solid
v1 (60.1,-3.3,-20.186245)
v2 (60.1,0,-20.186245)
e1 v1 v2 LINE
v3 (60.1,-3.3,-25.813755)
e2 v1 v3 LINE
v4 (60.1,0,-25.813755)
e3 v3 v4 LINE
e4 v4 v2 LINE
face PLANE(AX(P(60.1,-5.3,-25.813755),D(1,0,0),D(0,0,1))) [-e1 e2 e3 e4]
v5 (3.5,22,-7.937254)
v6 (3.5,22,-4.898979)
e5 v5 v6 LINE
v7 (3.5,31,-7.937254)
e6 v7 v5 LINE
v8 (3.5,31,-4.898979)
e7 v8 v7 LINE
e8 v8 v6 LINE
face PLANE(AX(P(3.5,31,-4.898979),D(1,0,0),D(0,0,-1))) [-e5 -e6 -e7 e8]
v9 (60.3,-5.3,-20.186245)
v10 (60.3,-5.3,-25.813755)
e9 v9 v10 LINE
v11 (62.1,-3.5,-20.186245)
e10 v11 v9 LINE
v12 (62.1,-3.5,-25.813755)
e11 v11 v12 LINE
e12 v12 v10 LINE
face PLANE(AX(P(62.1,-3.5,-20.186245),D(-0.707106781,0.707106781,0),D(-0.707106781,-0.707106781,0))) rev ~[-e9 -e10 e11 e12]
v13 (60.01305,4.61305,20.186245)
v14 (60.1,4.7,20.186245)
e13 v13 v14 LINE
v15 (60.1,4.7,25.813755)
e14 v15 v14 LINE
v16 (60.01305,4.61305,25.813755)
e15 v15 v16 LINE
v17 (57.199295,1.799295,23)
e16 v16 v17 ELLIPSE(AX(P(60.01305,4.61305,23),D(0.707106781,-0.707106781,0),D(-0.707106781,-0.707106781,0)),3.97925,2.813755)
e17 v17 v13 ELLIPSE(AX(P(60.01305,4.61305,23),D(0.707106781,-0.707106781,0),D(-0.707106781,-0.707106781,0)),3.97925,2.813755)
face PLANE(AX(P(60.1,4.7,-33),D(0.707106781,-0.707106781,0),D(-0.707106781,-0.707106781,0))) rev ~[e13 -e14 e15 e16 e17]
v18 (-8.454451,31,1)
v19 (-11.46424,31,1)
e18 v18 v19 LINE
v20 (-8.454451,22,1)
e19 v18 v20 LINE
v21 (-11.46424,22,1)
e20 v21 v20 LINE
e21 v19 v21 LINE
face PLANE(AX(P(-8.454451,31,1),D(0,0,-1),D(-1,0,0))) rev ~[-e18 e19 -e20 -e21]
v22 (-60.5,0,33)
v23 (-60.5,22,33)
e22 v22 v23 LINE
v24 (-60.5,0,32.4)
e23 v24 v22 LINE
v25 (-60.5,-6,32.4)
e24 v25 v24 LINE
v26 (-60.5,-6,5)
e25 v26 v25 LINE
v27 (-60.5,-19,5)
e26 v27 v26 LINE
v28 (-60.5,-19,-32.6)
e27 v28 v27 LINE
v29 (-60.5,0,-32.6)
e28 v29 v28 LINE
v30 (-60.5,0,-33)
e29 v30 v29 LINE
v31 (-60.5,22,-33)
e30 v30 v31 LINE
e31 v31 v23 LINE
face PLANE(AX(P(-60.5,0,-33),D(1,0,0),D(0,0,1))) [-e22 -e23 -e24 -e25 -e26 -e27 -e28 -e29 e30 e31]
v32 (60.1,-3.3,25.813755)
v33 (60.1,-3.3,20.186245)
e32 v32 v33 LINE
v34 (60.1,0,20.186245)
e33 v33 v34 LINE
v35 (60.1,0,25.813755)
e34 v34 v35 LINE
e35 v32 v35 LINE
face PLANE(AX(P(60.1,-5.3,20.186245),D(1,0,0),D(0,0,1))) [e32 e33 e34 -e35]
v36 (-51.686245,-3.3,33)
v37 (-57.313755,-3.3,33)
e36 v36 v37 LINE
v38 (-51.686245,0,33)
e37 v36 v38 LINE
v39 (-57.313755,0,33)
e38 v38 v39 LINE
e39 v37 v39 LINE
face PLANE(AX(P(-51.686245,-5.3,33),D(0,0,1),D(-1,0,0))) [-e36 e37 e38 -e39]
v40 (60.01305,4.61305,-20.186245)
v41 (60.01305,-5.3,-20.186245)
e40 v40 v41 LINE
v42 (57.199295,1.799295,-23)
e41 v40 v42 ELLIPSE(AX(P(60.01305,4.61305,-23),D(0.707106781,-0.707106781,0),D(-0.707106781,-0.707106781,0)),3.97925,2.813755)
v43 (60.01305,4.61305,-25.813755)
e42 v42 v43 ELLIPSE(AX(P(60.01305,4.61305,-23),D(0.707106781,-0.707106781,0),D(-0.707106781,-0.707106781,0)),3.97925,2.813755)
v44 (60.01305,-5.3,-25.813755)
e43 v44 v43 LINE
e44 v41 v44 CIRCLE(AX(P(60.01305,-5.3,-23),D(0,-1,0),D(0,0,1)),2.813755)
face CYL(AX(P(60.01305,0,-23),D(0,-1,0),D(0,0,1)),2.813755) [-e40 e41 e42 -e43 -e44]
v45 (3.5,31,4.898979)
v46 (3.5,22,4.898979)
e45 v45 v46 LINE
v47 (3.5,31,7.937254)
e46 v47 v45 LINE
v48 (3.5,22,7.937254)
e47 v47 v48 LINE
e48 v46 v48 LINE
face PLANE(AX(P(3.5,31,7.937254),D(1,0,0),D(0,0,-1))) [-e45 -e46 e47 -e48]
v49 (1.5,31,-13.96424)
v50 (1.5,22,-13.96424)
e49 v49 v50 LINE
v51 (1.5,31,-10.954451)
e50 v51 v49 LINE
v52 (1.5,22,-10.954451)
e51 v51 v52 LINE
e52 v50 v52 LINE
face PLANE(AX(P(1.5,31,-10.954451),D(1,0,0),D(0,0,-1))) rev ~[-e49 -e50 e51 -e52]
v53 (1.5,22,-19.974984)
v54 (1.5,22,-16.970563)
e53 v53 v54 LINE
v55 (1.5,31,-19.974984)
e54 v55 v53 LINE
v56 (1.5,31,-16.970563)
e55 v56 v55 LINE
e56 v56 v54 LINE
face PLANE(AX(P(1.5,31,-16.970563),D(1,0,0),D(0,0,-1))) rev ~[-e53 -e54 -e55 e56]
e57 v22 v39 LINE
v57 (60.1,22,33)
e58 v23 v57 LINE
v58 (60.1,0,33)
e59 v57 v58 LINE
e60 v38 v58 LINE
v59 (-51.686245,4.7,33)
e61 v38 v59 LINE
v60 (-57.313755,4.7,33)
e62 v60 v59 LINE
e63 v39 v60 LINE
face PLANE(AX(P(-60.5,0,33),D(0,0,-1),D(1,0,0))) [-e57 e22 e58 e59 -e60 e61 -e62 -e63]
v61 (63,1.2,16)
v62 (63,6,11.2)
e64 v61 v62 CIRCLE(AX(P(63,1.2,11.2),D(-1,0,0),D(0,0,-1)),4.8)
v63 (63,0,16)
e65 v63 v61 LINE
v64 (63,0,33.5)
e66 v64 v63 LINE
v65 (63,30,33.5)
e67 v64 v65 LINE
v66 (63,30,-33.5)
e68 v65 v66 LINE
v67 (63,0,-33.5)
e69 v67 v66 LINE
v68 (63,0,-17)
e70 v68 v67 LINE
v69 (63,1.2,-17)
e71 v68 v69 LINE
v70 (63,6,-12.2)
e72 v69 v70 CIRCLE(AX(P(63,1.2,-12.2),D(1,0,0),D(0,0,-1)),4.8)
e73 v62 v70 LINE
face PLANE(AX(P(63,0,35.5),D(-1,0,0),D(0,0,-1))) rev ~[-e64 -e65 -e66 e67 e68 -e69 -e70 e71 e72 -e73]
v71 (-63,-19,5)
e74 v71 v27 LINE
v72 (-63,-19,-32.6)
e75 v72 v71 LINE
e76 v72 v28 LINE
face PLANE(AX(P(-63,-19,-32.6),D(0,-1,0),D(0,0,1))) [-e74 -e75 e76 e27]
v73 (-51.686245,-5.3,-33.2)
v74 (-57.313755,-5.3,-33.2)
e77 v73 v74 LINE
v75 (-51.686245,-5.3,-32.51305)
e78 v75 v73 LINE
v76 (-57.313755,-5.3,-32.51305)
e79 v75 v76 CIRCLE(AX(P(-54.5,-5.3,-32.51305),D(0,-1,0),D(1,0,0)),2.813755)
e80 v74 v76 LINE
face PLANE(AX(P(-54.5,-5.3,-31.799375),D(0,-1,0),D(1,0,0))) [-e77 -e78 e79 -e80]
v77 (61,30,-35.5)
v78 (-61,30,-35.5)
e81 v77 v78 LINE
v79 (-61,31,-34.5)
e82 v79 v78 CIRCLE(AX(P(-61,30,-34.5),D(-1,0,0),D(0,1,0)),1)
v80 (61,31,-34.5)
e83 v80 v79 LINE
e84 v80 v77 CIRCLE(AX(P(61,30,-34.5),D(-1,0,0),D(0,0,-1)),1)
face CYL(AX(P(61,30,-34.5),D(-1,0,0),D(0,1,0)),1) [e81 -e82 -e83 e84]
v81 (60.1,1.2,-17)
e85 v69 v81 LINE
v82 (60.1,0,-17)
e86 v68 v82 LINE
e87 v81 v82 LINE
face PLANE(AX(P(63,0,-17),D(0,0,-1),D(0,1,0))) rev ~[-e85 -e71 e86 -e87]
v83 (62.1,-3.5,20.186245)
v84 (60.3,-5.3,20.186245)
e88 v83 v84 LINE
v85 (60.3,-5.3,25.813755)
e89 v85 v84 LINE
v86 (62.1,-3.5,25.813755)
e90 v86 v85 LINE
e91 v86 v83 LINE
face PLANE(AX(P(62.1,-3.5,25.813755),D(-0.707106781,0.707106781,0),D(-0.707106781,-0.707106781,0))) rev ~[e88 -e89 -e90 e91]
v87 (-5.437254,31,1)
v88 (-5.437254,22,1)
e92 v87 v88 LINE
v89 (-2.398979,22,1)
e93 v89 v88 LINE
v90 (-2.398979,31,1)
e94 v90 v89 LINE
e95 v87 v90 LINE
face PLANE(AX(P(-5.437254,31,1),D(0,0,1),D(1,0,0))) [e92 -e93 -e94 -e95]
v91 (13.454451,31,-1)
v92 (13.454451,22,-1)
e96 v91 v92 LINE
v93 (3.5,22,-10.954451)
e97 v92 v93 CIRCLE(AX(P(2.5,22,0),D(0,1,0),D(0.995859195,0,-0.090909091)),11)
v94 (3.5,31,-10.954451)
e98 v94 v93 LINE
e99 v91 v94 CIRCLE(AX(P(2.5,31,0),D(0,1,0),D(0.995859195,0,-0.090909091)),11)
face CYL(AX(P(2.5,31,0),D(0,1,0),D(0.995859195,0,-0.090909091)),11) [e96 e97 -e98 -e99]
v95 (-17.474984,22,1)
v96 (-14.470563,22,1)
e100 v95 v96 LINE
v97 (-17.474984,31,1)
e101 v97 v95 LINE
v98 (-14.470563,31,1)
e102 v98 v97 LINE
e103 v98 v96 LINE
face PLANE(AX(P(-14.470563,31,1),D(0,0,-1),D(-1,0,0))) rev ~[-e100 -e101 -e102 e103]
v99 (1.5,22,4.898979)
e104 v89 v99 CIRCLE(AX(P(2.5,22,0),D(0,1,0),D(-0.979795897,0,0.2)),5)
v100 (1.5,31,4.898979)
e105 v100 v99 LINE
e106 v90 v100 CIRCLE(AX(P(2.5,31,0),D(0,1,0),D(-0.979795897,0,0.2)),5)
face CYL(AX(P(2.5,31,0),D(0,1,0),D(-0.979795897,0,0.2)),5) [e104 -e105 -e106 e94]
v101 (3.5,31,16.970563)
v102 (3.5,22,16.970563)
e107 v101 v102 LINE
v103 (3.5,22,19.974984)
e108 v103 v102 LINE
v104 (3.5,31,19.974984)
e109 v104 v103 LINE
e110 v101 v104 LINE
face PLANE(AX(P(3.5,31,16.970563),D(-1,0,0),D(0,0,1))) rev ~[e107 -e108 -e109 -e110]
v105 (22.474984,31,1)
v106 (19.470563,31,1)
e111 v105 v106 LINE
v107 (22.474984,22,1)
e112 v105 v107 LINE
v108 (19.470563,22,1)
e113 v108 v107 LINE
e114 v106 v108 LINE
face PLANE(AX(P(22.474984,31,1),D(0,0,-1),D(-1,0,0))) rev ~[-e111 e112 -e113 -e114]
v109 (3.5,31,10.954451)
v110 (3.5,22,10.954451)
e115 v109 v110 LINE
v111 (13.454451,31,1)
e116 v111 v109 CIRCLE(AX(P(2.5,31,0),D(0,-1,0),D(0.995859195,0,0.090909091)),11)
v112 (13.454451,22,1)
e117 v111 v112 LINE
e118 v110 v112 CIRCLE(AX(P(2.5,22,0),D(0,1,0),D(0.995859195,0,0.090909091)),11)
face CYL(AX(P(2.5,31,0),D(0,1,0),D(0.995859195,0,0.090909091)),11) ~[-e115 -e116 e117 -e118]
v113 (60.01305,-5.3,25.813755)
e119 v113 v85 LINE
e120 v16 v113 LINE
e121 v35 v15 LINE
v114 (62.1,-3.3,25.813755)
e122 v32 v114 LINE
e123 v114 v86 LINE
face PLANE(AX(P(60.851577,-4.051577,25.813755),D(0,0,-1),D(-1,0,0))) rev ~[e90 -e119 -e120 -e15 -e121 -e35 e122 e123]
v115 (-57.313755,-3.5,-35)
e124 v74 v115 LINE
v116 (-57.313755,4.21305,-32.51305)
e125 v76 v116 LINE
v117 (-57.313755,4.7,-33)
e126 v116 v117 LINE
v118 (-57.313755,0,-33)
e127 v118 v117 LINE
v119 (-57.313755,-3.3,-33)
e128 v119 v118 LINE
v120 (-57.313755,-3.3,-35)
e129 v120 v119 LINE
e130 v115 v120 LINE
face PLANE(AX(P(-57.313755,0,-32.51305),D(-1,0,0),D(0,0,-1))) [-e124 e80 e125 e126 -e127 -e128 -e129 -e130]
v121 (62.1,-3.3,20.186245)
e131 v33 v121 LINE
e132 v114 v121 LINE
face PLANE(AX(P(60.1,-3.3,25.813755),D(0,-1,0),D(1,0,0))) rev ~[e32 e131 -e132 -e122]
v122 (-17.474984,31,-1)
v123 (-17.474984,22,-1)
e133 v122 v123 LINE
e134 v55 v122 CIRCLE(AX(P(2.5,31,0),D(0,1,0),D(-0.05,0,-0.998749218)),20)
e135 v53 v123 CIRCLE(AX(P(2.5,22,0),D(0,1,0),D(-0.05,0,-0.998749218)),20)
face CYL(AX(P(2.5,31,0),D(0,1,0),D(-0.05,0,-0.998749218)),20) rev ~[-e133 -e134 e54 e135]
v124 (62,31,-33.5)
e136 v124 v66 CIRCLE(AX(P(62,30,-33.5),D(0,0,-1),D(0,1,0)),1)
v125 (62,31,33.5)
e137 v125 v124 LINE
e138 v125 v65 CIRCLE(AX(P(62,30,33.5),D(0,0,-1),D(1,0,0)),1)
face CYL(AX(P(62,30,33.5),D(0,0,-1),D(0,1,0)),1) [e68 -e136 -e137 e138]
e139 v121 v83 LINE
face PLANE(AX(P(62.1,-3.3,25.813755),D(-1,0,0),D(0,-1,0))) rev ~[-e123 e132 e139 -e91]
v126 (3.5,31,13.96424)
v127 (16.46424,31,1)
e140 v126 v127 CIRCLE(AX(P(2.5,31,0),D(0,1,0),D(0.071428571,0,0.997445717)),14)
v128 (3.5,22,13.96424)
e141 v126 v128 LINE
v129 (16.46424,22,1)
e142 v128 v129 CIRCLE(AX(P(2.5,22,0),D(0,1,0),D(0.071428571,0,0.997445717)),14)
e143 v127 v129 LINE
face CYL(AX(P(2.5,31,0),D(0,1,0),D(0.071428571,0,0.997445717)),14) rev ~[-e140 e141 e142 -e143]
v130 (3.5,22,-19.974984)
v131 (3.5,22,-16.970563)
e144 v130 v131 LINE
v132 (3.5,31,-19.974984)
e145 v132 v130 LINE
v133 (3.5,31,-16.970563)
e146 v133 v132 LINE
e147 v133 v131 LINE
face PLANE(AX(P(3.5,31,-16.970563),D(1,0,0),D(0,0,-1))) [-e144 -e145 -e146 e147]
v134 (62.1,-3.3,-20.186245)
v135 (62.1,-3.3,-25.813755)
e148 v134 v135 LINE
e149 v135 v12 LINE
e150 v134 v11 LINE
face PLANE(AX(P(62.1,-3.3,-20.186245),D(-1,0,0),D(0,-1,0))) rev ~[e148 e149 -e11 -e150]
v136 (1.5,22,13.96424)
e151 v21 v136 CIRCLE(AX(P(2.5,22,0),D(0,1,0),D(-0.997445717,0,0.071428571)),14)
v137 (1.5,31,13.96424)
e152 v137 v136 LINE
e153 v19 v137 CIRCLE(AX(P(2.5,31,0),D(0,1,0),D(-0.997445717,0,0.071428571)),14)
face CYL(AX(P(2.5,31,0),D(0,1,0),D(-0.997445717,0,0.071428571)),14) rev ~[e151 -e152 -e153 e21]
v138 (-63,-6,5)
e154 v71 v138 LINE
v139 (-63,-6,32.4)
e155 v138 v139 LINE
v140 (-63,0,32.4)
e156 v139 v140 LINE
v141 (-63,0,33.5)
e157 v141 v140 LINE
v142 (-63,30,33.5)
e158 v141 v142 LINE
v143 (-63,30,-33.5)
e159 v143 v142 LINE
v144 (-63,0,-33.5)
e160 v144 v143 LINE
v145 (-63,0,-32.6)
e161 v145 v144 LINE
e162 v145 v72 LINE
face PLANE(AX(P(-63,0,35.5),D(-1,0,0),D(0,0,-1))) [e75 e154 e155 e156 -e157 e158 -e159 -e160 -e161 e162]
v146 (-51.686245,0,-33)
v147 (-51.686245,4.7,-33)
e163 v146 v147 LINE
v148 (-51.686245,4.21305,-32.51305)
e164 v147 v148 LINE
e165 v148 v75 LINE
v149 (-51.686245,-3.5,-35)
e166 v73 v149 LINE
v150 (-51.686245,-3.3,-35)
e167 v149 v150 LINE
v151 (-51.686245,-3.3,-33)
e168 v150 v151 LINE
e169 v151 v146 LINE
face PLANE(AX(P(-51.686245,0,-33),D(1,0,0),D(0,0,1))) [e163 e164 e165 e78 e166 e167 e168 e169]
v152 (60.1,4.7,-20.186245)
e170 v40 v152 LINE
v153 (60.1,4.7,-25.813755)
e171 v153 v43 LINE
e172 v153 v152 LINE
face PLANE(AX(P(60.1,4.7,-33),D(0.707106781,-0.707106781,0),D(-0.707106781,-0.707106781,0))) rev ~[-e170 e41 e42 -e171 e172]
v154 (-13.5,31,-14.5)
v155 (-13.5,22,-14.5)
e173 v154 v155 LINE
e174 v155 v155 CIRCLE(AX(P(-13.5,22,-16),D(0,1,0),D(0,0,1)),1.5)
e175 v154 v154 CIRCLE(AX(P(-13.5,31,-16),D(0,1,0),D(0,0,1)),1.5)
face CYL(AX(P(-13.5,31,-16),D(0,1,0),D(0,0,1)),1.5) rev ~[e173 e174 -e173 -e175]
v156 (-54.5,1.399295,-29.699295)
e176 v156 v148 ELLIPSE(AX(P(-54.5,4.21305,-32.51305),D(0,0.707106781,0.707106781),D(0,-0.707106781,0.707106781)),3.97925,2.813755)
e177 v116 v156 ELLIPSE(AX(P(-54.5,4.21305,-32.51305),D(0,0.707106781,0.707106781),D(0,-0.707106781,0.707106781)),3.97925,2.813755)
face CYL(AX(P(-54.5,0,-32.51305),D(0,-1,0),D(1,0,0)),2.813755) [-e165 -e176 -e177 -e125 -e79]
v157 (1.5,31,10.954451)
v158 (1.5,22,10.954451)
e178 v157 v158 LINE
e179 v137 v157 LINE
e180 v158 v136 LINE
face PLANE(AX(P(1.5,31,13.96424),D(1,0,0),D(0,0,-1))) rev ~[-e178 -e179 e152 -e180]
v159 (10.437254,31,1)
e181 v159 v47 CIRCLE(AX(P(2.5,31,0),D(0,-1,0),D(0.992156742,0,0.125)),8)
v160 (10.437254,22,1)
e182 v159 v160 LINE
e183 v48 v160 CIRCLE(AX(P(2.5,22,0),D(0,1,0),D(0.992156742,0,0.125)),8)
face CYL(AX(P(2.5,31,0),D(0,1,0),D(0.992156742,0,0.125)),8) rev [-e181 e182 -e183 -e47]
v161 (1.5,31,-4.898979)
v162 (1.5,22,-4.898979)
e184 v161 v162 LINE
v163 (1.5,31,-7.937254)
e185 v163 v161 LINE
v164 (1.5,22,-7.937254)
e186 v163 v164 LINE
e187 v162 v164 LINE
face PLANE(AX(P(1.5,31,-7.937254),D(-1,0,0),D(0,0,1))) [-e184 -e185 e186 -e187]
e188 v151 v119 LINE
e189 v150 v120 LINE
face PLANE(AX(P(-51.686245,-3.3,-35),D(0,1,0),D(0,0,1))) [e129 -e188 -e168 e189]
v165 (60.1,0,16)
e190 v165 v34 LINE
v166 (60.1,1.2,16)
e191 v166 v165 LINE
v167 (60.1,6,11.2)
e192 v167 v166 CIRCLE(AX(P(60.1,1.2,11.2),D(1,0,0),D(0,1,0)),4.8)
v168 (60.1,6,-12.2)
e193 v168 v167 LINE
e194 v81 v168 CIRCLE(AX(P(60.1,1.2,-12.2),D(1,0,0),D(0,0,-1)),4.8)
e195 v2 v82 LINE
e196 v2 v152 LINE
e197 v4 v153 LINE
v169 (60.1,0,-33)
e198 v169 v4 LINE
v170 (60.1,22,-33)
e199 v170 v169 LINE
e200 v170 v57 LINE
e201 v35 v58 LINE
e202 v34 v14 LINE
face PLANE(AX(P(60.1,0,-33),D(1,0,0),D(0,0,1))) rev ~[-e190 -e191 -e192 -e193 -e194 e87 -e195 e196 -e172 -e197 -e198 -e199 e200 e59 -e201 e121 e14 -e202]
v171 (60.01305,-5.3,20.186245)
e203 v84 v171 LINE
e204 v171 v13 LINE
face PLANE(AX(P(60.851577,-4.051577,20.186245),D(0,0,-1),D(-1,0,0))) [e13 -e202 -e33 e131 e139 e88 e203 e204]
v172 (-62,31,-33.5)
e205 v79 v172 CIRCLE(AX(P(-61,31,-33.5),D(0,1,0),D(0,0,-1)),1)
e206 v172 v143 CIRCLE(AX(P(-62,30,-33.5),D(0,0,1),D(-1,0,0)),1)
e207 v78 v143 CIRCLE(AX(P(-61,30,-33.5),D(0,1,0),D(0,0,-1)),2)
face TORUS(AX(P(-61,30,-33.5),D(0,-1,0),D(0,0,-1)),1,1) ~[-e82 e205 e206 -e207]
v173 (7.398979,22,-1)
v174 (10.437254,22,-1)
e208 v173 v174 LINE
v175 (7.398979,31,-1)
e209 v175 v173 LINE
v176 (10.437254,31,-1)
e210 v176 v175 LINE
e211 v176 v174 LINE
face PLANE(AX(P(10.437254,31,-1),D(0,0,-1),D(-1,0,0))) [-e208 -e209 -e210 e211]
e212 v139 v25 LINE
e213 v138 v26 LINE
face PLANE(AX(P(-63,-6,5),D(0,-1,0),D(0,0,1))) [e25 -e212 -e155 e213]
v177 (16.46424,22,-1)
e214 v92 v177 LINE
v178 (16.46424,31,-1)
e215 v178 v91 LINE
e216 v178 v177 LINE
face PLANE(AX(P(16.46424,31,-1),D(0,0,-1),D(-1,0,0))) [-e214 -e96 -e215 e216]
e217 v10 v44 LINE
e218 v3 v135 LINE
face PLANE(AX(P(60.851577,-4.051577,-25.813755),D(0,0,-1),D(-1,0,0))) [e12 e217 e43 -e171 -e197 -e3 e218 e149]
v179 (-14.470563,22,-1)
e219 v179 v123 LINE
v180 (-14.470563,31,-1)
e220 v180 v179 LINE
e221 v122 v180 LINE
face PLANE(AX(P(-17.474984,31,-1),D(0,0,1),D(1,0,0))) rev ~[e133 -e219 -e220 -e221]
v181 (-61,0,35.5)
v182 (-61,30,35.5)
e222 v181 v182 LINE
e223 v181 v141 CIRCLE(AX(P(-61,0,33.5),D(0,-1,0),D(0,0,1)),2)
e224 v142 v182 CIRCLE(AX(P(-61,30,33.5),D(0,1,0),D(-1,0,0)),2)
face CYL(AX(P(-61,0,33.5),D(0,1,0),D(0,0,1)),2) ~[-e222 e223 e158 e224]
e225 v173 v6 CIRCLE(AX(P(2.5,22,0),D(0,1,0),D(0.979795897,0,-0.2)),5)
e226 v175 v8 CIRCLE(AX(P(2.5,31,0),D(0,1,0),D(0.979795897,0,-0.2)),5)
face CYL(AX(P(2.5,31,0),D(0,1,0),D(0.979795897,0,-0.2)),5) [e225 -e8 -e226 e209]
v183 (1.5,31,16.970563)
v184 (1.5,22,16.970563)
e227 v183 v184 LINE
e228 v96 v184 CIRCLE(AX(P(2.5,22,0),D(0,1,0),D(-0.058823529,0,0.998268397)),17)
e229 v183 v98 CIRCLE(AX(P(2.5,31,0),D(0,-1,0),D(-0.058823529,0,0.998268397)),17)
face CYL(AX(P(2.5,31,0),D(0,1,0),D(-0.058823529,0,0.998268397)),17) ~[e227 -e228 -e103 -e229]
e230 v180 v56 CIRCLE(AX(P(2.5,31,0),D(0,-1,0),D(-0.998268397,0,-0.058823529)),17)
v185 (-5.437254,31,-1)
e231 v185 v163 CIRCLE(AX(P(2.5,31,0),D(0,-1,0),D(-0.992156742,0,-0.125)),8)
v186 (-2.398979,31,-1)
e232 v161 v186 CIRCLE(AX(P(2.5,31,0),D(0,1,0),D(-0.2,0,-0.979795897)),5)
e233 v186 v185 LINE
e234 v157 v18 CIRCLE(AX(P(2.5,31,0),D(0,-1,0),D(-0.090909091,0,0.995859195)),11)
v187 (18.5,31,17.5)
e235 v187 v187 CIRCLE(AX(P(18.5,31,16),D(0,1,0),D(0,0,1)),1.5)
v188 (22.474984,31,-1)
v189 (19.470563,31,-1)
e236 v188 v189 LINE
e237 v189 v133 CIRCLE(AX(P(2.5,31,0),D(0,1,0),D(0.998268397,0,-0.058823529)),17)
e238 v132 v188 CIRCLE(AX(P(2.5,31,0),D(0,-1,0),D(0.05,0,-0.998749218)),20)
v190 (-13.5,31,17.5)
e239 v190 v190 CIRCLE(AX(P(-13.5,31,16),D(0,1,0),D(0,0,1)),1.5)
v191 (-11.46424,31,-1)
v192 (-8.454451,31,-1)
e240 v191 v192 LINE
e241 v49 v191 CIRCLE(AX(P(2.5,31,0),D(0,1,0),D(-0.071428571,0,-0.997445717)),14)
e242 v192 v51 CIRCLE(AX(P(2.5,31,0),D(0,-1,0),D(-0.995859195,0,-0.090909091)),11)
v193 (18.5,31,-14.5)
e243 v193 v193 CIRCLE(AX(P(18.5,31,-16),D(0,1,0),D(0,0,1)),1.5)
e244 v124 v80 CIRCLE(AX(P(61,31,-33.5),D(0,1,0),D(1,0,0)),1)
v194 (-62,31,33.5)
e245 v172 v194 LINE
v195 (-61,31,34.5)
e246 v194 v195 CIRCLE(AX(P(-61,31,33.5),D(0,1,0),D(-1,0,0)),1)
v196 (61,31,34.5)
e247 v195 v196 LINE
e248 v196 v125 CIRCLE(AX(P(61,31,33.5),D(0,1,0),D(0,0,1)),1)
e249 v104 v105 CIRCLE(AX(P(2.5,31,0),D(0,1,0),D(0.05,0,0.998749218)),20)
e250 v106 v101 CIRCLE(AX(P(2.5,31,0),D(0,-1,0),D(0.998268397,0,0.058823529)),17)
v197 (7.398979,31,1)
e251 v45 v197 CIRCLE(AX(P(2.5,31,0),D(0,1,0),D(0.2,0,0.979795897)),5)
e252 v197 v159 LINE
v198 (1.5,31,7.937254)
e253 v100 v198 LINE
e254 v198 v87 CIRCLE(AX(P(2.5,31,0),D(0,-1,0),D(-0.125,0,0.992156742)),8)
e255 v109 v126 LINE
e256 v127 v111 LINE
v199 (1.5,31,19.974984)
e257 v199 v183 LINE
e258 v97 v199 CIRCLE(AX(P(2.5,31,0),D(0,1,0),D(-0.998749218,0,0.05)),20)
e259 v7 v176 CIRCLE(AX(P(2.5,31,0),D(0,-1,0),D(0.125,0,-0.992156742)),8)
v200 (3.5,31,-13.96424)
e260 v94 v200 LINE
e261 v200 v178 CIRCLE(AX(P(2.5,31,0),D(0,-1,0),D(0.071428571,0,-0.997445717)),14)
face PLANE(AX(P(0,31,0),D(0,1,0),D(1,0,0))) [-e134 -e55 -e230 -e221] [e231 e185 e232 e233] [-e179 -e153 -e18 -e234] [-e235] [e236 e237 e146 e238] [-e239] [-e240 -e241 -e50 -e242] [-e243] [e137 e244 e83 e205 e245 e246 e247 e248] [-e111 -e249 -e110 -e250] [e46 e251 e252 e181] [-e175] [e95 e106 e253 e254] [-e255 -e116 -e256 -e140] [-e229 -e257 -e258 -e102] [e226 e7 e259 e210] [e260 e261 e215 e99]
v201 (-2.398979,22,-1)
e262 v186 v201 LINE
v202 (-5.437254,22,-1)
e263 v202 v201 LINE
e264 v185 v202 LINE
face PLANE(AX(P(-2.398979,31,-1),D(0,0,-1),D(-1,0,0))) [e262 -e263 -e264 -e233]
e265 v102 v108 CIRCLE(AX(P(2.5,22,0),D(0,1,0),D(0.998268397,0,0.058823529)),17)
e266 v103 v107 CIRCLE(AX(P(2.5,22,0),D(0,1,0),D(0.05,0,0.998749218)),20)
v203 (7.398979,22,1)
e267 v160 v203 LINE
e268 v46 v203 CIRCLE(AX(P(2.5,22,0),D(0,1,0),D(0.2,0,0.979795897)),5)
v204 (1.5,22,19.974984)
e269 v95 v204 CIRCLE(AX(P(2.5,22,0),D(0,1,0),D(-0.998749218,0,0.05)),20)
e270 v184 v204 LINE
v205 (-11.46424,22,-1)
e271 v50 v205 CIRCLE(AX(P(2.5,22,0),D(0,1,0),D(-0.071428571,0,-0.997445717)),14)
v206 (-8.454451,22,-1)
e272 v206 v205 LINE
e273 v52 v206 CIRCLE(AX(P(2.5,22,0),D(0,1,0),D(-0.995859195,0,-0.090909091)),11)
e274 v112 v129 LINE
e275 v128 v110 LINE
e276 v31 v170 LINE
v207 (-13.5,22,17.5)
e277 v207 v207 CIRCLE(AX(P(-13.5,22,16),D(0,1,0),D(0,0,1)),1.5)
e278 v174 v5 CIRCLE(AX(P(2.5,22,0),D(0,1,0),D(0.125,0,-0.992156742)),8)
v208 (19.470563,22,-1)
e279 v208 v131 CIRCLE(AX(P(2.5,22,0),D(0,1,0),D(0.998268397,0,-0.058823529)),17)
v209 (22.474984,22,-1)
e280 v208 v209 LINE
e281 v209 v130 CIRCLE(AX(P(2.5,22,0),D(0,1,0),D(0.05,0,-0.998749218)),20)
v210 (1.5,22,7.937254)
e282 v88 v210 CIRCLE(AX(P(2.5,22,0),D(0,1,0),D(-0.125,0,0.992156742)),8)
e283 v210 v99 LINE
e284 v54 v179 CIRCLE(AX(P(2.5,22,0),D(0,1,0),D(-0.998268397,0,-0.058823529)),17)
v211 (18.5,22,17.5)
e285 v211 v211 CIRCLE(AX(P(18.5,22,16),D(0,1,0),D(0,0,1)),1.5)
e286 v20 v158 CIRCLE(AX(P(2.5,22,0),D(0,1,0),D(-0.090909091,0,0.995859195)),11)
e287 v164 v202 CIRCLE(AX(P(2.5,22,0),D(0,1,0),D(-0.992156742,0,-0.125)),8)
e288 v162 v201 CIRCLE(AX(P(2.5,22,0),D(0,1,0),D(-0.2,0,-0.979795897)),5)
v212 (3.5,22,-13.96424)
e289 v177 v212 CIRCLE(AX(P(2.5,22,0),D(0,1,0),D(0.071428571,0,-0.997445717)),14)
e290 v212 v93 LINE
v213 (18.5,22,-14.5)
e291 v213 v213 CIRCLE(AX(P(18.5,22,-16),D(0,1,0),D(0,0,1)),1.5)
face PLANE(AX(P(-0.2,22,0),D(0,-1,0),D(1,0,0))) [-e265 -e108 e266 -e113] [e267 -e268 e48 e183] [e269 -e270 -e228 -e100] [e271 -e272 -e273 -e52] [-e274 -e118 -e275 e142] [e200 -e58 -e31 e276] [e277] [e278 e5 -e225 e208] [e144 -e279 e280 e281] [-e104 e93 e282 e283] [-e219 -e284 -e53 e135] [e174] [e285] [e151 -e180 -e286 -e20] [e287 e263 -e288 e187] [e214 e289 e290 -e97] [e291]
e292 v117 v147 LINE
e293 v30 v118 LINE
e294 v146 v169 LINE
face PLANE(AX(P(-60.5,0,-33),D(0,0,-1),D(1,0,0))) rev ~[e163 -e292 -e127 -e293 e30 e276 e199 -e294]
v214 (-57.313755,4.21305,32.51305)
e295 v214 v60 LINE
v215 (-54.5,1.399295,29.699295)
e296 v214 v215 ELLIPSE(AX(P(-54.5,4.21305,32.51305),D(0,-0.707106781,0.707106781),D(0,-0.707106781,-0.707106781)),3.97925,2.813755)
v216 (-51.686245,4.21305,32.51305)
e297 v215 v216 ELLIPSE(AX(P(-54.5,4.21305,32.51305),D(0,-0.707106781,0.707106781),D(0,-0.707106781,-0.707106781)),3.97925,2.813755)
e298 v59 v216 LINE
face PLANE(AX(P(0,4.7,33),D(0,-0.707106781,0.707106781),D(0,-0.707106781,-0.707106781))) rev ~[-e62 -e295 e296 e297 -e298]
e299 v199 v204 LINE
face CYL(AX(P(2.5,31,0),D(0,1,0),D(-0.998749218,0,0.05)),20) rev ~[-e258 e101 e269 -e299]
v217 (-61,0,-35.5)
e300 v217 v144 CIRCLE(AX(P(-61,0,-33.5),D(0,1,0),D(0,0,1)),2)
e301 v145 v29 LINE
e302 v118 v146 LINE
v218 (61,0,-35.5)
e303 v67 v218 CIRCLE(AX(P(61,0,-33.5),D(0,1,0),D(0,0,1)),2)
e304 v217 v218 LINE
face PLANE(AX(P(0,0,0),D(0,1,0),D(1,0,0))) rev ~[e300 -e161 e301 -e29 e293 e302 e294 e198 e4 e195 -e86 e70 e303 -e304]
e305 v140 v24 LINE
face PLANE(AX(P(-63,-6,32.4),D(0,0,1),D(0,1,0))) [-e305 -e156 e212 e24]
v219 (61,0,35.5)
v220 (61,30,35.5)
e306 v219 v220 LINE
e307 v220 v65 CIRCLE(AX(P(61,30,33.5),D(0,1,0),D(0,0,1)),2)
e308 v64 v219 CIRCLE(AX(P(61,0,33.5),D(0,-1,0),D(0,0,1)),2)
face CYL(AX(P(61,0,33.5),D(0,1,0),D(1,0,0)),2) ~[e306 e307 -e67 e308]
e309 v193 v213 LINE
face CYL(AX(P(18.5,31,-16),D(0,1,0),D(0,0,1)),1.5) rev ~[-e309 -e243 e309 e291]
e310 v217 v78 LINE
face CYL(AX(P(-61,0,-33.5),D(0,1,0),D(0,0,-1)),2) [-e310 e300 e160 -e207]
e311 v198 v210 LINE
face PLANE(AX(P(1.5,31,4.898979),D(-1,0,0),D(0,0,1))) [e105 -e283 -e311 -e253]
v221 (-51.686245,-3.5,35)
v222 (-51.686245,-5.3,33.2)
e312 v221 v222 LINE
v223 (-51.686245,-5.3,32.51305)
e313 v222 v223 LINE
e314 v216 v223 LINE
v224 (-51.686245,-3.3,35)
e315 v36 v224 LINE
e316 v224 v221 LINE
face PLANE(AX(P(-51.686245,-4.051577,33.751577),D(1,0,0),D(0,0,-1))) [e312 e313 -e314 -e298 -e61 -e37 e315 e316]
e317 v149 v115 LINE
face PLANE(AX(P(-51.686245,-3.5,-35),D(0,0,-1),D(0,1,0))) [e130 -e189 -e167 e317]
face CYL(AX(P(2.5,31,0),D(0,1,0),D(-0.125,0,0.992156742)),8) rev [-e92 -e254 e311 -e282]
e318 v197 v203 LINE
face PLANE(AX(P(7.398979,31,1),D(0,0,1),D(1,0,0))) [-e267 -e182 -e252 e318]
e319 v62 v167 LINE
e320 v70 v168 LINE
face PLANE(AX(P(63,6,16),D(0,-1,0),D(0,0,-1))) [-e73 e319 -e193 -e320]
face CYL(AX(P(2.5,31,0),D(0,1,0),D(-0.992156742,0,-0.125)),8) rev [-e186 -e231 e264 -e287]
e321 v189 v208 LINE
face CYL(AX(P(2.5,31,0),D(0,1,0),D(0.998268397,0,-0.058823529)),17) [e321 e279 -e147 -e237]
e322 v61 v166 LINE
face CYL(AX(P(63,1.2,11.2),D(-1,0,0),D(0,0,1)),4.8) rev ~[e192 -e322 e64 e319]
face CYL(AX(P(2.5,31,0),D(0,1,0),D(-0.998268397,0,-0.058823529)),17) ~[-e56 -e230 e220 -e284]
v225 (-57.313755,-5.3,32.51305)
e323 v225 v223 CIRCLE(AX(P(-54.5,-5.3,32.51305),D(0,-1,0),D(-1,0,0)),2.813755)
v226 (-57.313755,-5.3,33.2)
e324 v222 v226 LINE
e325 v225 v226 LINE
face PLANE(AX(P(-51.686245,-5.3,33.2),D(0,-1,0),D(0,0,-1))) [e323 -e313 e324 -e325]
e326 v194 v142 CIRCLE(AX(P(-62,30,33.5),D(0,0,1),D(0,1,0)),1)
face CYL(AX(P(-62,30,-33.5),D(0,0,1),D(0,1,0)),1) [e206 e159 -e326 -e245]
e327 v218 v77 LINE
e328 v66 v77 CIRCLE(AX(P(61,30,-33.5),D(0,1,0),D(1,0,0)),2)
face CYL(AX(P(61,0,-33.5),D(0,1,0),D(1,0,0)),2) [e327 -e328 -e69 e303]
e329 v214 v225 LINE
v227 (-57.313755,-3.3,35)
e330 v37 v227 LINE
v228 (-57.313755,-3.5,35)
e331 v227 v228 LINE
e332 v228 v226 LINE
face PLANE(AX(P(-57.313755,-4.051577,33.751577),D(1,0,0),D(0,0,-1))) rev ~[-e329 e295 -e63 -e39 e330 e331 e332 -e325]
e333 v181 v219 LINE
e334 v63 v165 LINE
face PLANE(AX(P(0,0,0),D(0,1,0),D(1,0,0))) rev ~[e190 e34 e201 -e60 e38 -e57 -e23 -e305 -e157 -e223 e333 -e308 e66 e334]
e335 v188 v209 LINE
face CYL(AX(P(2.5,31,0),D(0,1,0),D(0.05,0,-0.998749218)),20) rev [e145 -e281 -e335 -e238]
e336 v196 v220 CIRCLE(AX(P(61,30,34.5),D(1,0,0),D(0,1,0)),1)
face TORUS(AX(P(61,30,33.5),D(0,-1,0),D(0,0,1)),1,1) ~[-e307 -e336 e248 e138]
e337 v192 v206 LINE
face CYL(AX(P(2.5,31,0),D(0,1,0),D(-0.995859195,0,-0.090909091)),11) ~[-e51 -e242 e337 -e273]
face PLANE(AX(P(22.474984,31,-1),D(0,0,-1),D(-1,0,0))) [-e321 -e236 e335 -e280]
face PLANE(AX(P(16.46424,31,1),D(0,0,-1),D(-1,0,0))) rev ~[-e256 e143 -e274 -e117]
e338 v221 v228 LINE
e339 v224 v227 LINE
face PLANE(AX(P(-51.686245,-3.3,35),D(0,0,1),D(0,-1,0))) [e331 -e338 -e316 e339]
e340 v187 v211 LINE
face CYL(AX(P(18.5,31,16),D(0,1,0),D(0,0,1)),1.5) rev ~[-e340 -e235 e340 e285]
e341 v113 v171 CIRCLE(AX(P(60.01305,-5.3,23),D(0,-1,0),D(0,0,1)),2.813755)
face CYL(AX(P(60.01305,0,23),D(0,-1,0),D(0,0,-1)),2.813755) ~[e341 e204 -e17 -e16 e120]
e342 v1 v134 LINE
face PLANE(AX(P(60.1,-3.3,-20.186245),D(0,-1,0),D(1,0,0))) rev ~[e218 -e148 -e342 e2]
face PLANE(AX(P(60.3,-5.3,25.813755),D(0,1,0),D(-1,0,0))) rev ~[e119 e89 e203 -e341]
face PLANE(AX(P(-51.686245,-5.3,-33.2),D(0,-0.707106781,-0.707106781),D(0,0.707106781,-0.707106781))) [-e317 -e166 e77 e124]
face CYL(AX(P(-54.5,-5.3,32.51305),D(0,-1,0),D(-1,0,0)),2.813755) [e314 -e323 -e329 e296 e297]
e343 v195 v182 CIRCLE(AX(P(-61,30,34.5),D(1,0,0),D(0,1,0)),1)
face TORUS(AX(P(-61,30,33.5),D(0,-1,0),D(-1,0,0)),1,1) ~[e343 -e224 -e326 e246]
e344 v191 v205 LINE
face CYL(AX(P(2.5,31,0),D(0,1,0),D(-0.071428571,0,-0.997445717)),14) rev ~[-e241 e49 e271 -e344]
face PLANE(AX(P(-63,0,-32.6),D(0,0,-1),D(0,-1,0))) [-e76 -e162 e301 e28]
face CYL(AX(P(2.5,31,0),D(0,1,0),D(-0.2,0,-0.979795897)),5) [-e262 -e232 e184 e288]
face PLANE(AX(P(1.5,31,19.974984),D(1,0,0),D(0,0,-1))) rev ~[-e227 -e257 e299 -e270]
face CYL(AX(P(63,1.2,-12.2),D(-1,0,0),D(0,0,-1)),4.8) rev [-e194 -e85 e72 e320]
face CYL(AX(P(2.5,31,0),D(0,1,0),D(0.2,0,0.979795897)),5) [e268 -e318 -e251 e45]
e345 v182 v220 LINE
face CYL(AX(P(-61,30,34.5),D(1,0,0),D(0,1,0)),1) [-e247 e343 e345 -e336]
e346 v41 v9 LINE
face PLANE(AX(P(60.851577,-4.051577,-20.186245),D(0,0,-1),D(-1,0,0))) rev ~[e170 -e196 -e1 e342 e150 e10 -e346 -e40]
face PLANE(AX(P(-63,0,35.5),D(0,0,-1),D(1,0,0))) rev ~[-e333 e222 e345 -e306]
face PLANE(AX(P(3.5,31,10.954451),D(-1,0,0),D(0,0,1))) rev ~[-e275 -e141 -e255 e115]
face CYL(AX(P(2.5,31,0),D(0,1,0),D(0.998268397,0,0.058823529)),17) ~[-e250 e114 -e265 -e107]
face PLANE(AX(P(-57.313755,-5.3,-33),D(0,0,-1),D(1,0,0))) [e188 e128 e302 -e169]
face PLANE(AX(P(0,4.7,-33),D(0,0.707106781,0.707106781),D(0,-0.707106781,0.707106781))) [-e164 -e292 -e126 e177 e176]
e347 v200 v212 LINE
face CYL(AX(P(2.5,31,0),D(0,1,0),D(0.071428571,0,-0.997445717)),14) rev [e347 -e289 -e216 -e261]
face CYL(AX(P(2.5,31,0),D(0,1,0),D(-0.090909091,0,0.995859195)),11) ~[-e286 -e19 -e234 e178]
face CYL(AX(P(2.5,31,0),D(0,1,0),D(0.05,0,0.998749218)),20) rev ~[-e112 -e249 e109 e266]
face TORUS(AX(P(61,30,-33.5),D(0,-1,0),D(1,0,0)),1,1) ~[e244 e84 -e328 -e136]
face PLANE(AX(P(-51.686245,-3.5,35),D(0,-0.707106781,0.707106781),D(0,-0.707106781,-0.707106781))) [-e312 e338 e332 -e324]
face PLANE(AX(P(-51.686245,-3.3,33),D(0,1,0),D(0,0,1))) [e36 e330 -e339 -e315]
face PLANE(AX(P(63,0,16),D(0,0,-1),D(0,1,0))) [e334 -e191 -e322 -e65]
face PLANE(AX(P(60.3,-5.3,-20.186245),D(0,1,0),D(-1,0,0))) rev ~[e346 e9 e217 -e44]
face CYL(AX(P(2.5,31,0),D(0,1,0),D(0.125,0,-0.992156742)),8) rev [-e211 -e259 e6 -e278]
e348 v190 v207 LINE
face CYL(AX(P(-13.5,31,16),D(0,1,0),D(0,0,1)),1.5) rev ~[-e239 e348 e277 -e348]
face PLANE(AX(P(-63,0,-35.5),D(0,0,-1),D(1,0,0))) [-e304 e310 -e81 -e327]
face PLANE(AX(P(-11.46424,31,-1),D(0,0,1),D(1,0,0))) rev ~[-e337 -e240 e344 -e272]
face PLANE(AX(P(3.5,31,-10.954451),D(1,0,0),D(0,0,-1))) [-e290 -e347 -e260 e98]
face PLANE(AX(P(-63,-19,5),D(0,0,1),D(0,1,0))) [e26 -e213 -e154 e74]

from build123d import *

# Parameters (mm, degrees)
SKETCH1_W           = 126
SKETCH1_H           = 71
BOSS_EXTRUDE1_DEPTH = 31
SKETCH2_W           = 120.6
SKETCH2_H           = 66
CUT_EXTRUDE1_DEPTH  = 22
CUT_EXTRUDE2_REACH  = 136.526
SKETCH3_W           = 33
SKETCH3_H           = 6
FILLET1_R           = 4.8
BOSS_EXTRUDE2_DEPTH = 2.5
CUT_EXTRUDE3_DEPTH  = 88.916153237
SKETCH6_R           = 1.5
CUT_EXTRUDE4_DEPTH  = 88.916153237
FILLET2_R           = 2
FILLET3_R           = 1
BOSS_EXTRUDE3_DEPTH = 4.7
BOSS_EXTRUDE4_START = 5.3
BOSS_EXTRUDE4_DEPTH = 5.3
CUT_EXTRUDE5_DEPTH  = 60.5
CUT_EXTRUDE6_REACH  = 100.093
BOSS_EXTRUDE5_DEPTH = 5.62751
BOSS_EXTRUDE6_DEPTH = 5.62751
BOSS_EXTRUDE7_DEPTH = 5.62751


with BuildPart() as part:
    # Sketch1 → Boss-Extrude1 (new body)
    with BuildSketch(Plane(origin=(0, 0, 0), x_dir=(1, 0, 0), z_dir=(0, 1, 0))):
        Rectangle(SKETCH1_W, SKETCH1_H)
    extrude(amount=BOSS_EXTRUDE1_DEPTH)

    # Sketch2 → Cut-Extrude1 (cut)
    with BuildSketch(Plane.XZ):
        with Locations((-0.2, 0)):
            Rectangle(SKETCH2_W, SKETCH2_H)
    extrude(amount=-CUT_EXTRUDE1_DEPTH, mode=Mode.SUBTRACT)

    # Sketch3 → Cut-Extrude2 (cut, up to next)
    with BuildSketch(Plane(origin=(63, 0, 0), x_dir=(0, 0, -1), z_dir=(1, 0, 0)), mode=Mode.PRIVATE) as cut_extrude2_sk1:
        with Locations((0.5, 3)):
            Rectangle(SKETCH3_W, SKETCH3_H)
    cut_extrude2_tool1 = extrude(cut_extrude2_sk1.sketch, amount=-CUT_EXTRUDE2_REACH, mode=Mode.PRIVATE) & part.part
    add(cut_extrude2_tool1.solids().sort_by_distance((63, 3, -0.5))[0], mode=Mode.SUBTRACT)

    # Fillet1
    fillet1_edges = [part.edges().sort_by_distance(p)[0] for p in [
        (61.55, 6, -17),
        (61.55, 6, 16),
    ]]
    fillet(fillet1_edges, radius=FILLET1_R)

    # Sketch4 → Boss-Extrude2 (add)
    with BuildSketch(Plane.ZY.offset(63)):
        Polygon((-32.6, 0), (-32.6, -19), (5, -19), (5, -6), (32.4, -6), (32.4, 0), align=None)
    extrude(amount=-BOSS_EXTRUDE2_DEPTH)

    # Sketch5 → Cut-Extrude3 (cut, through all)
    with BuildSketch(Plane(origin=(0, 31, 0), x_dir=(1, 0, 0), z_dir=(0, 1, 0))):
        with BuildLine():
            Line((3.5, 4.898979486), (3.5, 7.937253933))
            ThreePointArc((3.5, 7.937253933), (8.156854249, 5.656854249), (10.437253933, 1))
            Line((10.437253933, 1), (7.398979486, 1))
            ThreePointArc((7.398979486, 1), (6.035533906, 3.535533906), (3.5, 4.898979486))
        make_face()
        with BuildLine():
            Line((1.5, -4.898979486), (1.5, -7.937253933))
            ThreePointArc((1.5, -7.937253933), (-3.156854249, -5.656854249), (-5.437253933, -1))
            Line((-5.437253933, -1), (-2.398979486, -1))
            ThreePointArc((-2.398979486, -1), (-1.035533906, -3.535533906), (1.5, -4.898979486))
        make_face()
        with BuildLine():
            Line((7.398979486, -1), (10.437253933, -1))
            ThreePointArc((10.437253933, -1), (8.156854249, -5.656854249), (3.5, -7.937253933))
            Line((3.5, -7.937253933), (3.5, -4.898979486))
            ThreePointArc((3.5, -4.898979486), (6.035533906, -3.535533906), (7.398979486, -1))
        make_face()
        with BuildLine():
            Line((-2.398979486, 1), (-5.437253933, 1))
            ThreePointArc((-5.437253933, 1), (-3.156854249, 5.656854249), (1.5, 7.937253933))
            Line((1.5, 7.937253933), (1.5, 4.898979486))
            ThreePointArc((1.5, 4.898979486), (-1.035533906, 3.535533906), (-2.398979486, 1))
        make_face()
        with BuildLine():
            Line((1.5, 10.95445115), (1.5, 13.964240044))
            ThreePointArc((1.5, 13.964240044), (-7.399494937, 9.899494937), (-11.464240044, 1))
            Line((-11.464240044, 1), (-8.45445115, 1))
            ThreePointArc((-8.45445115, 1), (-5.278174593, 7.778174593), (1.5, 10.95445115))
        make_face()
        with BuildLine():
            Line((1.5, 16.970562748), (1.5, 19.974984355))
            ThreePointArc((1.5, 19.974984355), (-11.642135624, 14.142135624), (-17.474984355, 1))
            Line((-17.474984355, 1), (-14.470562748, 1))
            ThreePointArc((-14.470562748, 1), (-9.52081528, 12.02081528), (1.5, 16.970562748))
        make_face()
        with BuildLine():
            Line((3.5, 16.970562748), (3.5, 19.974984355))
            ThreePointArc((3.5, 19.974984355), (16.642135624, 14.142135624), (22.474984355, 1))
            Line((22.474984355, 1), (19.470562748, 1))
            ThreePointArc((19.470562748, 1), (14.52081528, 12.02081528), (3.5, 16.970562748))
        make_face()
        with BuildLine():
            Line((3.5, 10.95445115), (3.5, 13.964240044))
            ThreePointArc((3.5, 13.964240044), (12.399494937, 9.899494937), (16.464240044, 1))
            Line((16.464240044, 1), (13.45445115, 1))
            ThreePointArc((13.45445115, 1), (10.278174593, 7.778174593), (3.5, 10.95445115))
        make_face()
        with BuildLine():
            Line((-8.45445115, -1), (-11.464240044, -1))
            ThreePointArc((-11.464240044, -1), (-7.399494937, -9.899494937), (1.5, -13.964240044))
            Line((1.5, -13.964240044), (1.5, -10.95445115))
            ThreePointArc((1.5, -10.95445115), (-5.278174593, -7.778174593), (-8.45445115, -1))
        make_face()
        with BuildLine():
            Line((-14.470562748, -1), (-17.474984355, -1))
            ThreePointArc((-17.474984355, -1), (-11.642135624, -14.142135624), (1.5, -19.974984355))
            Line((1.5, -19.974984355), (1.5, -16.970562748))
            ThreePointArc((1.5, -16.970562748), (-9.52081528, -12.02081528), (-14.470562748, -1))
        make_face()
        with BuildLine():
            Line((3.5, -10.95445115), (3.5, -13.964240044))
            ThreePointArc((3.5, -13.964240044), (12.399494937, -9.899494937), (16.464240044, -1))
            Line((16.464240044, -1), (13.45445115, -1))
            ThreePointArc((13.45445115, -1), (10.278174593, -7.778174593), (3.5, -10.95445115))
        make_face()
        with BuildLine():
            Line((3.5, -16.970562748), (3.5, -19.974984355))
            ThreePointArc((3.5, -19.974984355), (16.642135624, -14.142135624), (22.474984355, -1))
            Line((22.474984355, -1), (19.470562748, -1))
            ThreePointArc((19.470562748, -1), (14.52081528, -12.02081528), (3.5, -16.970562748))
        make_face()
    extrude(amount=-CUT_EXTRUDE3_DEPTH, mode=Mode.SUBTRACT)

    # Sketch6 → Cut-Extrude4 (cut, through all)
    with BuildSketch(Plane(origin=(0, 31, 0), x_dir=(1, 0, 0), z_dir=(0, 1, 0))):
        with Locations(Location((-13.5, 16, 0), (0, 0, 270))):
            Circle(SKETCH6_R)
        with Locations(Location((18.5, 16, 0), (0, 0, 270))):
            Circle(SKETCH6_R)
        with Locations(Location((18.5, -16, 0), (0, 0, 270))):
            Circle(SKETCH6_R)
        with Locations(Location((-13.5, -16, 0), (0, 0, 270))):
            Circle(SKETCH6_R)
    extrude(amount=-CUT_EXTRUDE4_DEPTH, mode=Mode.SUBTRACT)

    # Fillet2
    fillet2_edges = [part.edges().sort_by_distance(p)[0] for p in [
        (-63, 15.5, 35.5),
        (-63, 15.5, -35.5),
        (63, 15.5, -35.5),
        (63, 15.5, 35.5),
    ]]
    fillet(fillet2_edges, radius=FILLET2_R)

    # Fillet3
    fillet3_edges = [part.edges().sort_by_distance(p)[0] for p in [
        (0, 31, 35.5),
        (-63, 31, 0),
        (63, 31, 0),
        (0, 31, -35.5),
        (62.414213562, 31, 34.914213562),
        (62.414213562, 31, -34.914213562),
        (-62.414213562, 31, -34.914213562),
        (-62.414213562, 31, 34.914213562),
    ]]
    fillet(fillet3_edges, radius=FILLET3_R)

    # Sketch7 → Boss-Extrude3 (add)
    with BuildSketch(Plane.XZ):
        with BuildLine():
            Line((-57.313755, 32.51305), (-57.313755, 33))
            Line((-57.313755, 33), (-51.686245, 33))
            Line((-51.686245, 33), (-51.686245, 32.51305))
            ThreePointArc((-51.686245, 32.51305), (-54.5, 29.699295), (-57.313755, 32.51305))
        make_face()
        with BuildLine():
            Line((-57.313755, -32.51305), (-57.313755, -33))
            Line((-57.313755, -33), (-51.686245, -33))
            Line((-51.686245, -33), (-51.686245, -32.51305))
            ThreePointArc((-51.686245, -32.51305), (-54.5, -29.699295), (-57.313755, -32.51305))
        make_face()
        with BuildLine():
            Line((60.01305, -25.813755), (60.1, -25.813755))
            Line((60.1, -25.813755), (60.1, -20.186245))
            Line((60.1, -20.186245), (60.01305, -20.186245))
            ThreePointArc((60.01305, -20.186245), (57.199295, -23), (60.01305, -25.813755))
        make_face()
        with BuildLine():
            Line((60.01305, 25.813755), (60.1, 25.813755))
            Line((60.1, 25.813755), (60.1, 20.186245))
            Line((60.1, 20.186245), (60.01305, 20.186245))
            ThreePointArc((60.01305, 20.186245), (57.199295, 23), (60.01305, 25.813755))
        make_face()
    extrude(amount=-BOSS_EXTRUDE3_DEPTH)

    # Sketch8 → Boss-Extrude4 (add)
    with BuildSketch(Plane.XZ.offset(BOSS_EXTRUDE4_START)):
        with BuildLine():
            Line((-57.313755, 33), (-57.313755, 32.51305))
            ThreePointArc((-57.313755, 32.51305), (-54.5, 29.699295), (-51.686245, 32.51305))
            Line((-51.686245, 32.51305), (-51.686245, 33))
            Line((-51.686245, 33), (-57.313755, 33))
        make_face()
        with BuildLine():
            Line((-57.313755, -32.51305), (-57.313755, -33))
            Line((-57.313755, -33), (-51.686245, -33))
            Line((-51.686245, -33), (-51.686245, -32.51305))
            ThreePointArc((-51.686245, -32.51305), (-54.5, -29.699295), (-57.313755, -32.51305))
        make_face()
        with BuildLine():
            Line((60.01305, -25.813755), (60.1, -25.813755))
            Line((60.1, -25.813755), (60.1, -20.186245))
            Line((60.1, -20.186245), (60.01305, -20.186245))
            ThreePointArc((60.01305, -20.186245), (57.199295, -23), (60.01305, -25.813755))
        make_face()
        with BuildLine():
            Line((60.01305, 20.186245), (60.1, 20.186245))
            Line((60.1, 20.186245), (60.1, 25.813755))
            Line((60.1, 25.813755), (60.01305, 25.813755))
            ThreePointArc((60.01305, 25.813755), (57.199295, 23), (60.01305, 20.186245))
        make_face()
    extrude(amount=-BOSS_EXTRUDE4_DEPTH)

    # Sketch9 → Cut-Extrude5 (cut)
    with BuildSketch(Plane(origin=(0, 0, 0), x_dir=(0, 0, -1), z_dir=(1, 0, 0))):
        Polygon((-33, 4.7), (-29.699295, 1.399295), (-29.699295, 4.7), align=None)
        Polygon((33, 4.7), (29.699295, 1.399295), (29.699295, 4.7), align=None)
    extrude(amount=-CUT_EXTRUDE5_DEPTH, mode=Mode.SUBTRACT)

    # Cut-Extrude6: up to this face of the body (flat: up to its plane)
    cut_extrude6_end = Plane(part.part.faces().sort_by_distance((0.346757949, 11.087098642, 33))[0])
    # Sketch10 → Cut-Extrude6 (cut, up to the picked face)
    with BuildSketch(Plane.XY.offset(-33), mode=Mode.PRIVATE) as cut_extrude6_sk1:
        Polygon((60.1, 4.7), (57.199295, 1.799295), (57.199295, 4.7), align=None)
    cut_extrude6_tool1 = split(extrude(cut_extrude6_sk1.sketch, amount=CUT_EXTRUDE6_REACH, mode=Mode.PRIVATE), bisect_by=cut_extrude6_end, keep=Keep.BOTH, mode=Mode.PRIVATE)
    add(cut_extrude6_tool1.solids().sort_by(Axis((58.166197, 3.733098, -33), (0, 0, 1)))[0], mode=Mode.SUBTRACT)

    # Sketch11 → Boss-Extrude5 (add)
    with BuildSketch(Plane.XY.offset(25.813755)):
        Polygon((60.1, -3.3), (62.1, -3.3), (62.1, -3.5), (60.3, -5.3), (60.1, -5.3), align=None)
    extrude(amount=-BOSS_EXTRUDE5_DEPTH)

    # Sketch12 → Boss-Extrude6 (add)
    with BuildSketch(Plane.XY.offset(-20.186245)):
        Polygon((60.1, -3.3), (62.1, -3.3), (62.1, -3.5), (60.3, -5.3), (60.1, -5.3), align=None)
    extrude(amount=-BOSS_EXTRUDE6_DEPTH)

    # Sketch13 → Boss-Extrude7 (add)
    with BuildSketch(Plane(origin=(-51.686245, 0, 0), x_dir=(0, 0, -1), z_dir=(1, 0, 0))):
        Polygon((-33, -3.3), (-35, -3.3), (-35, -3.5), (-33.2, -5.3), (-33, -5.3), align=None)
        Polygon((33, -5.3), (33.2, -5.3), (35, -3.5), (35, -3.3), (33, -3.3), align=None)
    extrude(amount=-BOSS_EXTRUDE7_DEPTH)


solid = part.part
